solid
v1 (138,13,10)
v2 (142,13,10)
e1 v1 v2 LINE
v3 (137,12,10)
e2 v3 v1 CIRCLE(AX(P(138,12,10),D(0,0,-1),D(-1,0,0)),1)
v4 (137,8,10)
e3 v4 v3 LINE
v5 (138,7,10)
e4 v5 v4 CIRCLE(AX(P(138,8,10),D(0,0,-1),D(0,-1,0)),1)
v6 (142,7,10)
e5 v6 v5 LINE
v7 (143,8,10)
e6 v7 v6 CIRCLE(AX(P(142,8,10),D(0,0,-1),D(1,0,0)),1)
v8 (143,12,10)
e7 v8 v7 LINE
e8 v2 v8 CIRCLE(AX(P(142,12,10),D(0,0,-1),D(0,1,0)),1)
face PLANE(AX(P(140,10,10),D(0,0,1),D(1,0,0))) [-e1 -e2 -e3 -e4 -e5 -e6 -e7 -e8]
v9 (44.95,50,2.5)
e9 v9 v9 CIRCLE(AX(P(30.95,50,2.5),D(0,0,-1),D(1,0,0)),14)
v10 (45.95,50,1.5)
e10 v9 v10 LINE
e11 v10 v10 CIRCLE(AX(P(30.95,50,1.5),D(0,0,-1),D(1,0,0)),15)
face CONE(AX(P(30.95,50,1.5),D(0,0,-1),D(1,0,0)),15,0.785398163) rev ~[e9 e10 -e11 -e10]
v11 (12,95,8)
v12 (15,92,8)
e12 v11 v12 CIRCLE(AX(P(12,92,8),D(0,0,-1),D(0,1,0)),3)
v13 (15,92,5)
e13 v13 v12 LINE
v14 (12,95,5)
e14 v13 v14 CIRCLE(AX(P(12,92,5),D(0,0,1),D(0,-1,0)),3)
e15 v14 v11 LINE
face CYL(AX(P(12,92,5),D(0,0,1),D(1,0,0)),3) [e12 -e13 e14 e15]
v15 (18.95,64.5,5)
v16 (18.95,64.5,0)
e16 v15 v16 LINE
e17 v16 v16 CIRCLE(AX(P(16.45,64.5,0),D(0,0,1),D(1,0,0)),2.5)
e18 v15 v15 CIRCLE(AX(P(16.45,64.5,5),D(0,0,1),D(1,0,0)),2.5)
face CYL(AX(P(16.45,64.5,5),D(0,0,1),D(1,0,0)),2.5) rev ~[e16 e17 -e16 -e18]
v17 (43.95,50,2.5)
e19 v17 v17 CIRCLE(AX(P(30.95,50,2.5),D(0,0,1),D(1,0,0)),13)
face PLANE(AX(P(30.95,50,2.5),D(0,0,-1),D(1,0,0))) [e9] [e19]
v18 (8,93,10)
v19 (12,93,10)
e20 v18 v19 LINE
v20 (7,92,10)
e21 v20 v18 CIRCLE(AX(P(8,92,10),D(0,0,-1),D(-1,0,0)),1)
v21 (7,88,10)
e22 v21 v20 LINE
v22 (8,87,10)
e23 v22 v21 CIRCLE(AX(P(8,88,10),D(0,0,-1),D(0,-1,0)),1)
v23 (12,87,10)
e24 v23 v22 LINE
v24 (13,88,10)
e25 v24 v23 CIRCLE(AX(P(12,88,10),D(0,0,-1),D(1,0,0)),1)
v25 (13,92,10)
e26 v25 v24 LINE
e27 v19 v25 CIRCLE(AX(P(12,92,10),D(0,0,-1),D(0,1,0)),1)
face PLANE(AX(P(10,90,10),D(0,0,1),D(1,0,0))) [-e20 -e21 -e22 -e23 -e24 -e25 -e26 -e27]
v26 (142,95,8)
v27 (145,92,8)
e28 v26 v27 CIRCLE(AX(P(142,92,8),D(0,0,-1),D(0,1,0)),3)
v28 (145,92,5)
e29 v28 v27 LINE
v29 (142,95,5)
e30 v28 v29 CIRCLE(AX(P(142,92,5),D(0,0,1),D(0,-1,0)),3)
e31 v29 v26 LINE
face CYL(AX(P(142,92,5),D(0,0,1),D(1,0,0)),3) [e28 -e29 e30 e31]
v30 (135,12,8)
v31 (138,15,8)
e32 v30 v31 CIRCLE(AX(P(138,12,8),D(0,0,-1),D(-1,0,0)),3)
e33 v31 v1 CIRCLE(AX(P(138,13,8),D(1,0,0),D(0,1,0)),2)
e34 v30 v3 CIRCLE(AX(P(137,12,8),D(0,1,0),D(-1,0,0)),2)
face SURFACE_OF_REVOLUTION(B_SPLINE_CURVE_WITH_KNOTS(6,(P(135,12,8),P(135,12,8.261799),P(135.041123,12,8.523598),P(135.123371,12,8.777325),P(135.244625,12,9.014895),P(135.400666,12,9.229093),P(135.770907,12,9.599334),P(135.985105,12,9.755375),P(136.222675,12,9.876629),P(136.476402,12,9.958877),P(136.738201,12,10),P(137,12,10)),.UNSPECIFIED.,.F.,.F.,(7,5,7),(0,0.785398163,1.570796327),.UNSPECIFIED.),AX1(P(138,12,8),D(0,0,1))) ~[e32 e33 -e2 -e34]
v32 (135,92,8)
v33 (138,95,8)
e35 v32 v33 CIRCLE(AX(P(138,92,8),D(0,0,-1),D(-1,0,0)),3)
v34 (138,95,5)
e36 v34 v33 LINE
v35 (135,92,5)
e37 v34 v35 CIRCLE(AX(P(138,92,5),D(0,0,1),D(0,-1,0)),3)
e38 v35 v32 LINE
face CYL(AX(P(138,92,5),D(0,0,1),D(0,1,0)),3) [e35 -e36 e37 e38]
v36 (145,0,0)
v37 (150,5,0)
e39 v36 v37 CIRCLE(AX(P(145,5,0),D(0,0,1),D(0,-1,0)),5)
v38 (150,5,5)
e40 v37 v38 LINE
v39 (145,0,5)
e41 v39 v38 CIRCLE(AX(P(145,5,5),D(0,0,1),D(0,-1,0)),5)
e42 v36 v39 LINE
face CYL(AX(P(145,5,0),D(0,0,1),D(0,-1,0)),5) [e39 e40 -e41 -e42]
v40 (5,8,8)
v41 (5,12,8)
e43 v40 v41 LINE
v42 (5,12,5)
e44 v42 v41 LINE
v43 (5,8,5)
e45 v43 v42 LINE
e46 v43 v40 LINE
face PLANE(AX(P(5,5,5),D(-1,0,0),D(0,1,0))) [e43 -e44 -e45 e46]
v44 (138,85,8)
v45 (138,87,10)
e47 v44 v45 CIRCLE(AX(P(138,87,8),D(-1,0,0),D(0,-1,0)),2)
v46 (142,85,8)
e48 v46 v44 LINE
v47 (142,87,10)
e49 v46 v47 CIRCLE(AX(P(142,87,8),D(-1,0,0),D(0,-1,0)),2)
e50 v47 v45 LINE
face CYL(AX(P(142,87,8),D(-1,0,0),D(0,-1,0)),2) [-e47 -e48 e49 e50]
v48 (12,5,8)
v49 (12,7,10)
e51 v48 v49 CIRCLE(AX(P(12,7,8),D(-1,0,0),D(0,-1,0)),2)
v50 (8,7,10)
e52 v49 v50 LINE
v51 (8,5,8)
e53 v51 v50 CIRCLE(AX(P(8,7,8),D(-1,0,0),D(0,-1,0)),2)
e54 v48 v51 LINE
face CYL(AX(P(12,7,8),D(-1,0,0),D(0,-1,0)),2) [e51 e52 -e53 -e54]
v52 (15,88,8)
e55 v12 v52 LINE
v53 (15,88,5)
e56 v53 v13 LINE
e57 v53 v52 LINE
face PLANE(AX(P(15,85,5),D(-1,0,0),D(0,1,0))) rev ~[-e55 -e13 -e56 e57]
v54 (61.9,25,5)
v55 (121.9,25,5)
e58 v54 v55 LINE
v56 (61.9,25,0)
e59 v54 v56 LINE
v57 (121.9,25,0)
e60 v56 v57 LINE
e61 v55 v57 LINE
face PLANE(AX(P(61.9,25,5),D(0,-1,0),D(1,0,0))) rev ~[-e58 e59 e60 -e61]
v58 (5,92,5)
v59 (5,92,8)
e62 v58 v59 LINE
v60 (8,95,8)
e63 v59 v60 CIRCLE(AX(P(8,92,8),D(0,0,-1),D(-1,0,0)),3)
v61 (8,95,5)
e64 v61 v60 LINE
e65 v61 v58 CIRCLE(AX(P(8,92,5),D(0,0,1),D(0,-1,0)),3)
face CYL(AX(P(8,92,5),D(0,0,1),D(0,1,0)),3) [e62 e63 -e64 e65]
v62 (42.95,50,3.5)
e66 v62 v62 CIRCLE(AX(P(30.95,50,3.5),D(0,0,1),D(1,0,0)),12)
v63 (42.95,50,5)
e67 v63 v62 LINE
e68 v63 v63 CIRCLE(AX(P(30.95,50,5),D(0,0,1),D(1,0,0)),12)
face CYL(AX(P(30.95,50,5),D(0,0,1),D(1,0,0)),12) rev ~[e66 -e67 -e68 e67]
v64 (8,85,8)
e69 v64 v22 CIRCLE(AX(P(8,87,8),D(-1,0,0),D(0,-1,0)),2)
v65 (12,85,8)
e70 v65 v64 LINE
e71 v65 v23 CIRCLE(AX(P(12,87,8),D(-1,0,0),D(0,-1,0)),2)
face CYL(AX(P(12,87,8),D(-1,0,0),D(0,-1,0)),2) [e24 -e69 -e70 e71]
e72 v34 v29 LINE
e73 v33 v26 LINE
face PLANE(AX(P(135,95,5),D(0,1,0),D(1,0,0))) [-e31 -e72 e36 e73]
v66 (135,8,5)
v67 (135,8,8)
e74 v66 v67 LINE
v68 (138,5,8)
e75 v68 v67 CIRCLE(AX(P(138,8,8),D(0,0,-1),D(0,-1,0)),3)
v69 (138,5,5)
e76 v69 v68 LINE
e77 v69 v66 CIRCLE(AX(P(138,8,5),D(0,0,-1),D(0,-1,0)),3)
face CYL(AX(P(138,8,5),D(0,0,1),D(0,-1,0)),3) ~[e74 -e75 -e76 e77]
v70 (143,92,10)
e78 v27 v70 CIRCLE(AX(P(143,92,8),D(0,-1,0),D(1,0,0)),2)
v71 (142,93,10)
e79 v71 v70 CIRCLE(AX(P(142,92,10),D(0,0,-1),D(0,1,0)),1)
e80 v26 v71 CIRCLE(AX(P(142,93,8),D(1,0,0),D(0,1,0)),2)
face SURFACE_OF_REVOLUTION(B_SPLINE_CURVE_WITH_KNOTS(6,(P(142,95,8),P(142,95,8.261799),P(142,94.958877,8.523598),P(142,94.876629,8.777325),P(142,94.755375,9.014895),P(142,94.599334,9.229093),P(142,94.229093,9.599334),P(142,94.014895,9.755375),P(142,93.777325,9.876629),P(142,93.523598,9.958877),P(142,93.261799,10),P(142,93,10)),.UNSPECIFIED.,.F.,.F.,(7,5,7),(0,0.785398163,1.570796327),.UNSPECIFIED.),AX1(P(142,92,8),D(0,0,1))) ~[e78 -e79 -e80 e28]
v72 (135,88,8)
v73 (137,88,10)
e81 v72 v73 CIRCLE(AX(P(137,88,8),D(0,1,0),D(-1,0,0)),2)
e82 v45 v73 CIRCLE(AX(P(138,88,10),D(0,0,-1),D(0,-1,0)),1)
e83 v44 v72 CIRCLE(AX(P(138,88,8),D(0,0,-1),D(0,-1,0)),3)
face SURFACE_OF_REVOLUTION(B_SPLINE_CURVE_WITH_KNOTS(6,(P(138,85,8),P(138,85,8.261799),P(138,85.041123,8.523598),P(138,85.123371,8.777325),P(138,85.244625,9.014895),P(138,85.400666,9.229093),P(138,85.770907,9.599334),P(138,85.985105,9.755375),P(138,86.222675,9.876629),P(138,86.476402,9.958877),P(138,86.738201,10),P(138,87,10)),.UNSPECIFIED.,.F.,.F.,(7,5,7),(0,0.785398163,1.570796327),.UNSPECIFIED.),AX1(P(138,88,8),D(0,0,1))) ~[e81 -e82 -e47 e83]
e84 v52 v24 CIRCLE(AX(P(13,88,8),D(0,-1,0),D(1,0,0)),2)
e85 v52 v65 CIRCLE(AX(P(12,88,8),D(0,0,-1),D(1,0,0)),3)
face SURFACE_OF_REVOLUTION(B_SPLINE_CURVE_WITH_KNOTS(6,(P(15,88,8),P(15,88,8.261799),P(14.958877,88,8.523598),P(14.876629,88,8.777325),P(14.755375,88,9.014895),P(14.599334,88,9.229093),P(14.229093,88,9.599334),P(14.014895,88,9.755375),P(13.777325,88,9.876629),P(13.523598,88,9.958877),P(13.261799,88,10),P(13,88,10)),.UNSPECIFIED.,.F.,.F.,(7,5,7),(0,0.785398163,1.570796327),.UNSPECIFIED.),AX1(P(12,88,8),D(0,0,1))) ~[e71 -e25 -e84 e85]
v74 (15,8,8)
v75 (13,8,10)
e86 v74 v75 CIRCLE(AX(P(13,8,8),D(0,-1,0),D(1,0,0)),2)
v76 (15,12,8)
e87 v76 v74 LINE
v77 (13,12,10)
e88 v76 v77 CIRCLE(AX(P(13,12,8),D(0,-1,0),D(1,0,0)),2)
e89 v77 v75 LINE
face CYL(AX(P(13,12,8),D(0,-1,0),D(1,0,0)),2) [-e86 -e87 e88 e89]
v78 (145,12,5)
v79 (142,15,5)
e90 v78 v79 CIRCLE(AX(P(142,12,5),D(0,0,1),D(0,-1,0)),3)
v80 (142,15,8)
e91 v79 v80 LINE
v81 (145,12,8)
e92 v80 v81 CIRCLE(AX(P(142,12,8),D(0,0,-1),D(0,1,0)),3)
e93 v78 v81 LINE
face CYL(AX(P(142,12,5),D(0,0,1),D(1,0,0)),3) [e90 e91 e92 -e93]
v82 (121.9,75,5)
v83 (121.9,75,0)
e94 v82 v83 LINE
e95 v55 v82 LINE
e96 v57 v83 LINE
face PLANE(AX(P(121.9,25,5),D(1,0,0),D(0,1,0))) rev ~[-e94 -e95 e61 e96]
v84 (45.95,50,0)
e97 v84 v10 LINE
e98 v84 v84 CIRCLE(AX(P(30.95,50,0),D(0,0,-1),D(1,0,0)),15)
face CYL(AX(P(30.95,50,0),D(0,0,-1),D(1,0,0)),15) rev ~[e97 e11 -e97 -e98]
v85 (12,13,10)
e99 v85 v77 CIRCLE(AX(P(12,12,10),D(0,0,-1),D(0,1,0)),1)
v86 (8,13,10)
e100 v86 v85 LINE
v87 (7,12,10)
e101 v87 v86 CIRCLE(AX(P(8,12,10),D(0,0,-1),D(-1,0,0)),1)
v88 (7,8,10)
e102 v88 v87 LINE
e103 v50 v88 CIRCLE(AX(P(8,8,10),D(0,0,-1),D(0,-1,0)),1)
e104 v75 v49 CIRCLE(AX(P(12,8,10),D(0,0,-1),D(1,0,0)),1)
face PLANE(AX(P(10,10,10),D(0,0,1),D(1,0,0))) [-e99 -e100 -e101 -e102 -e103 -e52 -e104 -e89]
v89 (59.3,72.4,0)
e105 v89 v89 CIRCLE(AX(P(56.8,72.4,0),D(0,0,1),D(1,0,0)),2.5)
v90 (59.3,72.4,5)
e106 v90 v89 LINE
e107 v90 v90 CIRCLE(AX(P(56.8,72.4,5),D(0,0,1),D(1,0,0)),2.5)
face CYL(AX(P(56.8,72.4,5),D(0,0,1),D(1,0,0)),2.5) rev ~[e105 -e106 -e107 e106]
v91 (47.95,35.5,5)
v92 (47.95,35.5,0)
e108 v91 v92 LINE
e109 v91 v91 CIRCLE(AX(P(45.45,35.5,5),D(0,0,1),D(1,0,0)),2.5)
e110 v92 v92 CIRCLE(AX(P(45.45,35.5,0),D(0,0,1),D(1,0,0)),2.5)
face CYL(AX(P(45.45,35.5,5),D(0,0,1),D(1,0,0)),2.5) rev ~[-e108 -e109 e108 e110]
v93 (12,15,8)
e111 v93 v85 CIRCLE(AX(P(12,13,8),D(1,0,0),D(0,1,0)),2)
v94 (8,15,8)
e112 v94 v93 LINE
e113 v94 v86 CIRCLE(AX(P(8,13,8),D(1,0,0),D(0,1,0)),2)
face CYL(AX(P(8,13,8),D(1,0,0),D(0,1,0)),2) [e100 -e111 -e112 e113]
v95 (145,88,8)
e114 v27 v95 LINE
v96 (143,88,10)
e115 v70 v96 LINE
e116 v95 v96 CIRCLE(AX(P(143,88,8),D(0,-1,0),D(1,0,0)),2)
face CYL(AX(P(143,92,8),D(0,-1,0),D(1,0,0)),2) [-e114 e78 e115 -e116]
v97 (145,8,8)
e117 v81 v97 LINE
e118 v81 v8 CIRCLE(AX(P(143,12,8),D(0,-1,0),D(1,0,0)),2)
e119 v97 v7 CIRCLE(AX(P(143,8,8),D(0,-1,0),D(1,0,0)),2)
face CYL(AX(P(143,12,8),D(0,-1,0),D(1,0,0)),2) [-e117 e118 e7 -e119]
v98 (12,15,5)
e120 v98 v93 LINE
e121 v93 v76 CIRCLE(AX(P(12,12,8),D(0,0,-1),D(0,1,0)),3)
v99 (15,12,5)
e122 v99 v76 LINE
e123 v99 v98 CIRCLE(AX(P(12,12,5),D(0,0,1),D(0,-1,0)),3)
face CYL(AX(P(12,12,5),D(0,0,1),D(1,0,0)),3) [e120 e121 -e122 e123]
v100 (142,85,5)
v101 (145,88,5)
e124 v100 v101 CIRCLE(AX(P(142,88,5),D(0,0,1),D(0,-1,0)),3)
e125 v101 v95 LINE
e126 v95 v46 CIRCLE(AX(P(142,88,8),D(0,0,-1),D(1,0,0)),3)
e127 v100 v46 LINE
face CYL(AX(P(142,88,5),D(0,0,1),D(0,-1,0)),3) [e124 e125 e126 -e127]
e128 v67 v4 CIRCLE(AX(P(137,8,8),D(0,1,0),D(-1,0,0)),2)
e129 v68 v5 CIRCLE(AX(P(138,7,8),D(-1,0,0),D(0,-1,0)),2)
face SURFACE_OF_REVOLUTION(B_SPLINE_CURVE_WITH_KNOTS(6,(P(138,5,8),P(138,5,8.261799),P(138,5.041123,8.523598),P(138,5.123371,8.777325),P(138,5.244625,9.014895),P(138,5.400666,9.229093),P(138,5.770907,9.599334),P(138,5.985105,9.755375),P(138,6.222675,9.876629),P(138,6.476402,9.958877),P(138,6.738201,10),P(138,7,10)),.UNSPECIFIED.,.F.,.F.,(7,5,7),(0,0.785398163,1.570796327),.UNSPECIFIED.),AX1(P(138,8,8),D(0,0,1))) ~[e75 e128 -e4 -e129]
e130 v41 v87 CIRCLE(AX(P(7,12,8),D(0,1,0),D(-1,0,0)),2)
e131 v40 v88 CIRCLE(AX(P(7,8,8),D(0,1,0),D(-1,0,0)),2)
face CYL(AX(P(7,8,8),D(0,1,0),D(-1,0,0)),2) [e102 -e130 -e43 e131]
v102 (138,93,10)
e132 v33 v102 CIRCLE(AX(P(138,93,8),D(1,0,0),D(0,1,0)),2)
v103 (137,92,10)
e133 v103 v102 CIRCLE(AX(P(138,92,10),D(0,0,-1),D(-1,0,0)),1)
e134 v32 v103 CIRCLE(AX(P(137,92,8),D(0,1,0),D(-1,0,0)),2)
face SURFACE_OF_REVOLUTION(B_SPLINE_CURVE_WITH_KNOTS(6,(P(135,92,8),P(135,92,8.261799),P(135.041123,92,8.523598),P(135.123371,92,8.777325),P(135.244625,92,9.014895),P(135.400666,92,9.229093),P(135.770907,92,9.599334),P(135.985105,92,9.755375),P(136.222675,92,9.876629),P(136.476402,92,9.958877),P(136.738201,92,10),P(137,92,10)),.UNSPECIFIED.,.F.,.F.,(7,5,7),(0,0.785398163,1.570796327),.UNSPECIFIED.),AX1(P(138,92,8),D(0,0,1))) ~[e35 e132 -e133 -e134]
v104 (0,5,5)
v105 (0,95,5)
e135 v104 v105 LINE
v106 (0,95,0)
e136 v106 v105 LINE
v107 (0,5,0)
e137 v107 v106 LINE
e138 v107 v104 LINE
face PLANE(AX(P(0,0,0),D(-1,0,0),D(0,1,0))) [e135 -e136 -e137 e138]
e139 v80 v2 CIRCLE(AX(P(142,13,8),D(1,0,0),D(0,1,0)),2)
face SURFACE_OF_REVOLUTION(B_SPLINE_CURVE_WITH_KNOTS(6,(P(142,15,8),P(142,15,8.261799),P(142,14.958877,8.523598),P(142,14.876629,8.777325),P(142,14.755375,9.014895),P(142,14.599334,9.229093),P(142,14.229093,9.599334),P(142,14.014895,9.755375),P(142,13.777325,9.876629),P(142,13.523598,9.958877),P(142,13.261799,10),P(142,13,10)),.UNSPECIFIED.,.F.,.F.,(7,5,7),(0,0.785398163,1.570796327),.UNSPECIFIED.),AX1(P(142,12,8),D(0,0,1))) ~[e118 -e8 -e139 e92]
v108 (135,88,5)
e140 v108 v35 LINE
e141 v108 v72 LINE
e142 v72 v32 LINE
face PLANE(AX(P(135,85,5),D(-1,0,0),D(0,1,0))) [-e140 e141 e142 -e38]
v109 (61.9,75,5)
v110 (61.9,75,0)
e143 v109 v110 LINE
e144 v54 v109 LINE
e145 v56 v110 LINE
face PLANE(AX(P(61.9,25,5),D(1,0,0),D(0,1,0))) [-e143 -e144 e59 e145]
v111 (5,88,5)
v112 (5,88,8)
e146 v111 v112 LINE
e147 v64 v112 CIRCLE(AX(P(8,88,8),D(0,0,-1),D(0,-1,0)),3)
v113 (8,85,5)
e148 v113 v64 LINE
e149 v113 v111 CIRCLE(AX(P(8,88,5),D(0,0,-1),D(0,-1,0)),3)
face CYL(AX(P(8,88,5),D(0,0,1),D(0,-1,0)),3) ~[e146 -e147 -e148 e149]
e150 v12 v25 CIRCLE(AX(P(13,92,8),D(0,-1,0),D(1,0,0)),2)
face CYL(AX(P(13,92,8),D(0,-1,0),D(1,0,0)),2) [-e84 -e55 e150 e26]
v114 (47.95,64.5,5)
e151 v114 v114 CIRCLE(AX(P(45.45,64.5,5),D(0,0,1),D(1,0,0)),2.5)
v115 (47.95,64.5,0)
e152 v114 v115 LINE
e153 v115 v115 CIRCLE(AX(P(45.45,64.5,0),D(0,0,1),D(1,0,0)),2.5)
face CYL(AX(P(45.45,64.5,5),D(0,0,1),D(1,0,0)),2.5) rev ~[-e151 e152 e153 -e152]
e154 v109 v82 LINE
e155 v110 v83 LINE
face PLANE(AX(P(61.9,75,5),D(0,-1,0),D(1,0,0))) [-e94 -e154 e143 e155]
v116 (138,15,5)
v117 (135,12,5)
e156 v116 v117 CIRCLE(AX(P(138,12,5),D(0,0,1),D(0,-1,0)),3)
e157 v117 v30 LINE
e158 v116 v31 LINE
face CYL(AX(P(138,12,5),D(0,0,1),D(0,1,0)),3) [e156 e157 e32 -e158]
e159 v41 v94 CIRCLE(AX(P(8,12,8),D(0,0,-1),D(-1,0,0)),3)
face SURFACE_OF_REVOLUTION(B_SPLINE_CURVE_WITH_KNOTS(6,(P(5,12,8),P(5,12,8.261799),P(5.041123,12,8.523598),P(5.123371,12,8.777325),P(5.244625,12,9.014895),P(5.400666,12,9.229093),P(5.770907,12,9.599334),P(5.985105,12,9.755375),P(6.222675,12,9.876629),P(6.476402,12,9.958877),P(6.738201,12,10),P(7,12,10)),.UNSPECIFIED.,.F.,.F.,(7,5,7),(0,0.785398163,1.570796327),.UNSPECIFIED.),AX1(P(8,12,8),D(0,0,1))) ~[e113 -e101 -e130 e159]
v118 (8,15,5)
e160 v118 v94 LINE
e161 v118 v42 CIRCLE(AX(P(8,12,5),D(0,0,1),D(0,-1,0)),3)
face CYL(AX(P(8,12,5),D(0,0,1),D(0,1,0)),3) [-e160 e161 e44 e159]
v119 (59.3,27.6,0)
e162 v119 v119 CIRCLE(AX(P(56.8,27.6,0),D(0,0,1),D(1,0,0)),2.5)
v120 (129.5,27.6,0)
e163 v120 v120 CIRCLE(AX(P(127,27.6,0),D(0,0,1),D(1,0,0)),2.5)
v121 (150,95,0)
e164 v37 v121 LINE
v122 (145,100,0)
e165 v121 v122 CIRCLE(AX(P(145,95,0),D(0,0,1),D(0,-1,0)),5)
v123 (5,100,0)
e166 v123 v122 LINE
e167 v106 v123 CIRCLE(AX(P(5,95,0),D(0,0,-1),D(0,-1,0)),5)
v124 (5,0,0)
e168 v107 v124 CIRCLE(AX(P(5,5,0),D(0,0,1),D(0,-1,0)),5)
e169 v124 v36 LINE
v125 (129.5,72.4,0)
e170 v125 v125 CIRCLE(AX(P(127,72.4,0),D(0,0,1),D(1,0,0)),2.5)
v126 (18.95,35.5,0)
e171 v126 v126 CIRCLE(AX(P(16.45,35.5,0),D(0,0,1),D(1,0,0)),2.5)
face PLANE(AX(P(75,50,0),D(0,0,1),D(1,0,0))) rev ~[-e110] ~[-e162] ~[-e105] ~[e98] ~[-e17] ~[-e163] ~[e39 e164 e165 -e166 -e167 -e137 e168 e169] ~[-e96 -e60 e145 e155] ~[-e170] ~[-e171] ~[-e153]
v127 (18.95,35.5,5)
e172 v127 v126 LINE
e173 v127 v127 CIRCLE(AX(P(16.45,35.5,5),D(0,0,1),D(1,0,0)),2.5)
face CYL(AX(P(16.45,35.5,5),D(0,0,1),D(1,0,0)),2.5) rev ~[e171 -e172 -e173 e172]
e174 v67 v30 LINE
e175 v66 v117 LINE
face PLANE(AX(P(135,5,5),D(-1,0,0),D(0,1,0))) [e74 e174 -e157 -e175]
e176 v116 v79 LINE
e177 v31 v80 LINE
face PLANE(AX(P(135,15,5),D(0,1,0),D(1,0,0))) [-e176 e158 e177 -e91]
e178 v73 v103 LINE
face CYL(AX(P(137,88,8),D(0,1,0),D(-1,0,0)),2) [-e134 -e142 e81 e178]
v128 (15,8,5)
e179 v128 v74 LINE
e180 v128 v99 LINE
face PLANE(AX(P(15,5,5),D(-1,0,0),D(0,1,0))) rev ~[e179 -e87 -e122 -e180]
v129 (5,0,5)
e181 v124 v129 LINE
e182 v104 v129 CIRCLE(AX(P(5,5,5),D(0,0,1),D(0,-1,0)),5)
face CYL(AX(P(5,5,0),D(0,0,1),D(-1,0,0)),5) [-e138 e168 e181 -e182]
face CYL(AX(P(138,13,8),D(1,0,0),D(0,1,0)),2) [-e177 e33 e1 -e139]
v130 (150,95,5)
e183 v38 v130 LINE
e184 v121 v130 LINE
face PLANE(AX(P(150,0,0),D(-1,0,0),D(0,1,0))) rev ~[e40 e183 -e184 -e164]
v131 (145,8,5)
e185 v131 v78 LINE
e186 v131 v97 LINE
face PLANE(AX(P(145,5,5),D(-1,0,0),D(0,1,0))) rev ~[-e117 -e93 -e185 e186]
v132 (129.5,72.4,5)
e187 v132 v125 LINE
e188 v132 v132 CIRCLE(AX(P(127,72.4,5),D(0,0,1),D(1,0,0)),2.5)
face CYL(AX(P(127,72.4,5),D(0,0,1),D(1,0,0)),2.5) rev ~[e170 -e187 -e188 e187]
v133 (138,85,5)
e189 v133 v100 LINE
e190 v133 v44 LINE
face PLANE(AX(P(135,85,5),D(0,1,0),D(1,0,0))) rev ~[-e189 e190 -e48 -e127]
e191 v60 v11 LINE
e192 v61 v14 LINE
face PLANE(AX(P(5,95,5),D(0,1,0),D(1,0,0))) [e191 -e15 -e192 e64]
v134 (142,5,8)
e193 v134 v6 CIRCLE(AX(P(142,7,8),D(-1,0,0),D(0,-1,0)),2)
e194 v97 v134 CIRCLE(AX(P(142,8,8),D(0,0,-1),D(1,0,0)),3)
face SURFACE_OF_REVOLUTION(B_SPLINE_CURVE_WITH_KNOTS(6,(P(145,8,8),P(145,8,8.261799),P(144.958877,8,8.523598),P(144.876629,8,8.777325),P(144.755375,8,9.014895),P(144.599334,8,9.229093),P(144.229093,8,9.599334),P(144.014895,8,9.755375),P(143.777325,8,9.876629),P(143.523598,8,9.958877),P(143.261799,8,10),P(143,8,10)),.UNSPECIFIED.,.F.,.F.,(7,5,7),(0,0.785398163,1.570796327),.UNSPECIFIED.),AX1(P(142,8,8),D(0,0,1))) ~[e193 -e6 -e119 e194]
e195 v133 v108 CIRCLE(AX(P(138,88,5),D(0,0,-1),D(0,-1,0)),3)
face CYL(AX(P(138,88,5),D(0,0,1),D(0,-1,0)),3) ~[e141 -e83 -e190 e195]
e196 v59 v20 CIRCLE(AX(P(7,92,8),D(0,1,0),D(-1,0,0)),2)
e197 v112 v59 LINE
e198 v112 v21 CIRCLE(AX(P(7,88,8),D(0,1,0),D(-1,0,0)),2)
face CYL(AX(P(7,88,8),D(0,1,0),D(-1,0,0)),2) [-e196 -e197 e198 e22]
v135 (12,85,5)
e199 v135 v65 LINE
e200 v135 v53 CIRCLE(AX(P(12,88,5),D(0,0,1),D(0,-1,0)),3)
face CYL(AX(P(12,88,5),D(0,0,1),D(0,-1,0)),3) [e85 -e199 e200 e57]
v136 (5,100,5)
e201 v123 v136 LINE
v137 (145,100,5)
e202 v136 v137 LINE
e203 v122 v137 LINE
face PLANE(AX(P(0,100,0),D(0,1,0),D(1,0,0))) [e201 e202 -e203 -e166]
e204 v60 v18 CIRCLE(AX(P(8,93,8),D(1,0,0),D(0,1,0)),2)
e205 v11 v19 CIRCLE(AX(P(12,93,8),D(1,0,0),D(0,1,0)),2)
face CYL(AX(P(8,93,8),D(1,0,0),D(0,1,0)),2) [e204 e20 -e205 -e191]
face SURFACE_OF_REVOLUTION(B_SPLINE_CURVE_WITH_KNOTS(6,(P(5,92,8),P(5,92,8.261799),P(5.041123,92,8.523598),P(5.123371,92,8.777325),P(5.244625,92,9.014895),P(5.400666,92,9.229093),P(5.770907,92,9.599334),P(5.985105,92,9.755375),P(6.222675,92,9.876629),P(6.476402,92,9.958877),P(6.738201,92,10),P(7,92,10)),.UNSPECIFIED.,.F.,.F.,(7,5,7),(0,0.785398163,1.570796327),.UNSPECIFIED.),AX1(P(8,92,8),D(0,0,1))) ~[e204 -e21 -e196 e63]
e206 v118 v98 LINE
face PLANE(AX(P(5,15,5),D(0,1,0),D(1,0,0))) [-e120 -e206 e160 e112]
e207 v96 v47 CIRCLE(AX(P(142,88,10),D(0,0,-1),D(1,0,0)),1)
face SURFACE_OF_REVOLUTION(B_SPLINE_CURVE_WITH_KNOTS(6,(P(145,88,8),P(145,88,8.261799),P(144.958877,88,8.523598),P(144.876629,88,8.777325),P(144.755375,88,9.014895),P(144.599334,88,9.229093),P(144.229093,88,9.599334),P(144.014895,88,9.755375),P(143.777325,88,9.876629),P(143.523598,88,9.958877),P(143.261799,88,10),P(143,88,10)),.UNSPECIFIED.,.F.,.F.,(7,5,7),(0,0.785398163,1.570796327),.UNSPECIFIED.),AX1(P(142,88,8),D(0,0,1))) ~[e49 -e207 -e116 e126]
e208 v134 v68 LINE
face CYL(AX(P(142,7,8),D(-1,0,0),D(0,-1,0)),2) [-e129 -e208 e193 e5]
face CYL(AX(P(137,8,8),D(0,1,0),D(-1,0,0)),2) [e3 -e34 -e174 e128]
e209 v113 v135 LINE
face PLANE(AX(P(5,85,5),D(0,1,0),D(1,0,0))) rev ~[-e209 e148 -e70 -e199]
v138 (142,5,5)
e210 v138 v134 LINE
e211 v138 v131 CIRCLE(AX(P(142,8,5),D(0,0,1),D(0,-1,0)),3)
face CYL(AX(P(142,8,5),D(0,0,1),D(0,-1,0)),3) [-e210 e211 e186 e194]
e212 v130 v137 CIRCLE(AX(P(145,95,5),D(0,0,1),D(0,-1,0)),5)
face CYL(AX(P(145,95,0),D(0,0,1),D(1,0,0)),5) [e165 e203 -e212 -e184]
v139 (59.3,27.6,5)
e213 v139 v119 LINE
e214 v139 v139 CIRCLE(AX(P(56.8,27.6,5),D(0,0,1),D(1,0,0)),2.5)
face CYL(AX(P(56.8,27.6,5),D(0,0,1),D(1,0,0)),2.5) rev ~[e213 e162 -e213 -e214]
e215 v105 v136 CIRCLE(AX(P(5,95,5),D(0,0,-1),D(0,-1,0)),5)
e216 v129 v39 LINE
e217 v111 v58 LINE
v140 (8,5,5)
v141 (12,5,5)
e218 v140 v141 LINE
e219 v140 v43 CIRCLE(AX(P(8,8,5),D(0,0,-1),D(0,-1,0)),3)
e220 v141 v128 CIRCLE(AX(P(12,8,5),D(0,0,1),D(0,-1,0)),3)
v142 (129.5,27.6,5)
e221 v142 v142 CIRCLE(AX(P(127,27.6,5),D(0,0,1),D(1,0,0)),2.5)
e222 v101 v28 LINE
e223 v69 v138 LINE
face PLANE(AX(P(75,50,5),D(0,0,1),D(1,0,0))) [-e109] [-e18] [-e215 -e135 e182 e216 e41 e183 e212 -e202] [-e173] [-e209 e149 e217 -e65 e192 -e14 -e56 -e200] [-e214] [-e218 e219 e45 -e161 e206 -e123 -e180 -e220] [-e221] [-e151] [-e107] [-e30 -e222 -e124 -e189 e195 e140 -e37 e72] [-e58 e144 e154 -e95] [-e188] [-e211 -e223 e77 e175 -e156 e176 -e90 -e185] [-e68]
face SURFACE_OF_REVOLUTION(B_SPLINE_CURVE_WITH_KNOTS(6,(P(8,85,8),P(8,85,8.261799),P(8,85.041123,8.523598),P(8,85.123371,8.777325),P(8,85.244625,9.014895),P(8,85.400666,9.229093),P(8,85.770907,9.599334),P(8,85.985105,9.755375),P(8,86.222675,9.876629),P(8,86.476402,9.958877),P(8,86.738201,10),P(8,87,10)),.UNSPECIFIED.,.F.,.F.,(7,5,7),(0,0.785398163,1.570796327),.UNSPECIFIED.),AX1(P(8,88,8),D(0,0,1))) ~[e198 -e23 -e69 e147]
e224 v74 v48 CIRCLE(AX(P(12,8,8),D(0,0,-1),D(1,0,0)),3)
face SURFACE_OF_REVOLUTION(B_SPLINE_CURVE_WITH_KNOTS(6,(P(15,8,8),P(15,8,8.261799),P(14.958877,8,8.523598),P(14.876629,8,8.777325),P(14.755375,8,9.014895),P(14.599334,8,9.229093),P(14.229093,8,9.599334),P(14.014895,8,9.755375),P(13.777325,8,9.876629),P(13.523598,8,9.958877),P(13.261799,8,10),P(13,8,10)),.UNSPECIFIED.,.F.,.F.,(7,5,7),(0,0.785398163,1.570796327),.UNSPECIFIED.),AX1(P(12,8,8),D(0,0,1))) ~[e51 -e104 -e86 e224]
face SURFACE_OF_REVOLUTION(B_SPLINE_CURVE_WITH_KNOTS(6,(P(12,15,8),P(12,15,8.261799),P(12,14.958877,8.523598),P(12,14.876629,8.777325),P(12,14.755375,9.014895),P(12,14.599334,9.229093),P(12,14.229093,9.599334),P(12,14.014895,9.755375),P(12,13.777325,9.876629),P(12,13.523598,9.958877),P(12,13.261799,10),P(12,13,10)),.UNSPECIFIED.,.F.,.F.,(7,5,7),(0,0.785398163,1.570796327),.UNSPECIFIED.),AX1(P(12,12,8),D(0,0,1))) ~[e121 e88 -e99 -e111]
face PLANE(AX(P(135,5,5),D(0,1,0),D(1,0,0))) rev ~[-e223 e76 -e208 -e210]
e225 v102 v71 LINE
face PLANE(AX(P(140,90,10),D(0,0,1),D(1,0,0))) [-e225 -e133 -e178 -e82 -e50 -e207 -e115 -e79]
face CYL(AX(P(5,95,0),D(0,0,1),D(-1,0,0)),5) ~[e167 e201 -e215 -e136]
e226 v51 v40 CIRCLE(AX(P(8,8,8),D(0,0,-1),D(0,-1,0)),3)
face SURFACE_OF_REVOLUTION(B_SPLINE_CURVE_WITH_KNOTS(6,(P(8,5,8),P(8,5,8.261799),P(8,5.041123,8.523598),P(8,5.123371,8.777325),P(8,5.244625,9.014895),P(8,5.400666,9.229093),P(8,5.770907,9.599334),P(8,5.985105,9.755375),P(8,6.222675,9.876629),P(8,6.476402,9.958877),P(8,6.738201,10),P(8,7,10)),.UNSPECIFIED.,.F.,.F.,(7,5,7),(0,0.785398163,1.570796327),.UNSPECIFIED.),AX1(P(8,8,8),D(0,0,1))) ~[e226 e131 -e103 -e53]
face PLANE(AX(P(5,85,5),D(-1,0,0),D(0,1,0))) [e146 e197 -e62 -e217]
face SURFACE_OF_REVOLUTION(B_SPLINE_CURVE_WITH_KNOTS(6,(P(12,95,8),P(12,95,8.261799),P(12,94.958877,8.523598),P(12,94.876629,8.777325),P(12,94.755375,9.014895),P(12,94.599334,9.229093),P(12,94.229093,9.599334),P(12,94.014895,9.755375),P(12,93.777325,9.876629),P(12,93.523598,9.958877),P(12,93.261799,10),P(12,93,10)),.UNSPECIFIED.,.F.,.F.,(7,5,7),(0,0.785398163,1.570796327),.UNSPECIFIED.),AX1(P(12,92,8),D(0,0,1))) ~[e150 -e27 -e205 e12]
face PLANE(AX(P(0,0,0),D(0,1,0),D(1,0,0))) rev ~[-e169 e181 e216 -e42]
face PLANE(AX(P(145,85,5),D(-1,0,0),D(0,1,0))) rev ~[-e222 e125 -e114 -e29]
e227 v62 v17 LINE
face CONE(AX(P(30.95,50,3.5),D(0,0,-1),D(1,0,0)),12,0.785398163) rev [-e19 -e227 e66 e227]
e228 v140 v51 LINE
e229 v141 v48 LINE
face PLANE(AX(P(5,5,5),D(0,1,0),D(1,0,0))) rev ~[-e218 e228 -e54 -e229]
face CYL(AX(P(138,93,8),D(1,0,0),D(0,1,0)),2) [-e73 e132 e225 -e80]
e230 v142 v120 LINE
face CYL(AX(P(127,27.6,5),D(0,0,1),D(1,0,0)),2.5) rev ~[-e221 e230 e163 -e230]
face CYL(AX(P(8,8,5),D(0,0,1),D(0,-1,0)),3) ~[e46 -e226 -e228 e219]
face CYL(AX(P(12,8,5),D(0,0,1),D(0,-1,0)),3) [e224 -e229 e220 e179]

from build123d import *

# Parameters (mm, degrees)
SKETCH_W        = 150
SKETCH_H        = 100
PAD_DEPTH       = 5
FILLET_R        = 5
SKETCH001_W     = 10
SKETCH001_H     = 10
PAD001_DEPTH    = 5
FILLET001_R     = 3
FILLET002_R     = 2
SKETCH002_R     = 2.5
POCKET_DEPTH    = 5
SKETCH003_W     = 60
SKETCH003_H     = 50
POCKET001_DEPTH = 5.001
SKETCH004_R     = 2.5
SKETCH004_R_2   = 12
POCKET002_DEPTH = 5.001
SKETCH005_R     = 15
POCKET003_DEPTH = 2.5
CHAMFER_SIZE    = 1


with BuildPart() as part:
    # Sketch → Pad (new body)
    with BuildSketch(Plane.XY):
        with Locations((75, 50)):
            Rectangle(SKETCH_W, SKETCH_H)
    extrude(amount=PAD_DEPTH)

    # Fillet
    fillet_edges = [part.edges().sort_by_distance(p)[0] for p in [
        (0, 0, 2.5),
        (150, 0, 2.5),
        (150, 100, 2.5),
        (0, 100, 2.5),
    ]]
    fillet(fillet_edges, radius=FILLET_R)

    # Sketch001 → Pad001 (new body)
    with BuildSketch(Plane.XY.offset(5)):
        with Locations((10, 10)):
            Rectangle(SKETCH001_W, SKETCH001_H)
        with Locations((140, 90)):
            Rectangle(SKETCH001_W, SKETCH001_H)
        with Locations((10, 90)):
            Rectangle(SKETCH001_W, SKETCH001_H)
        with Locations((140, 10)):
            Rectangle(SKETCH001_W, SKETCH001_H)
    extrude(amount=PAD001_DEPTH)

    # Fillet001
    fillet001_edges = [part.edges().sort_by_distance(p)[0] for p in [
        (5, 5, 7.5),
        (15, 5, 7.5),
        (5, 15, 7.5),
        (15, 15, 7.5),
        (5, 95, 7.5),
        (15, 95, 7.5),
        (5, 85, 7.5),
        (15, 85, 7.5),
        (135, 5, 7.5),
        (145, 5, 7.5),
        (145, 15, 7.5),
        (135, 85, 7.5),
        (145, 85, 7.5),
        (145, 95, 7.5),
        (135, 95, 7.5),
        (135, 15, 7.5),
    ]]
    fillet(fillet001_edges, radius=FILLET001_R)

    # Fillet002
    fillet002_edges = [part.edges().sort_by_distance(p)[0] for p in [
        (10, 15, 10),
        (140, 15, 10),
        (140, 95, 10),
        (10, 95, 10),
    ]]
    fillet(fillet002_edges, radius=FILLET002_R)

    # Sketch002 → Pocket (cut)
    with BuildSketch(Plane.XY.offset(5)):
        with Locations((56.8, 72.4)):
            Circle(SKETCH002_R)
        with Locations((127, 72.4)):
            Circle(SKETCH002_R)
        with Locations((56.8, 27.6)):
            Circle(SKETCH002_R)
        with Locations((127, 27.6)):
            Circle(SKETCH002_R)
    extrude(amount=-POCKET_DEPTH, mode=Mode.SUBTRACT)

    # Sketch003 → Pocket001 (cut, through all)
    with BuildSketch(Plane.XY.offset(5)):
        with Locations((91.9, 50)):
            Rectangle(SKETCH003_W, SKETCH003_H)
    extrude(amount=-POCKET001_DEPTH, mode=Mode.SUBTRACT)

    # Sketch004 → Pocket002 (cut, through all)
    with BuildSketch(Plane.XY.offset(5)):
        with Locations((16.45, 64.5)):
            Circle(SKETCH004_R)
        with Locations((45.45, 64.5)):
            Circle(SKETCH004_R)
        with Locations((45.45, 35.5)):
            Circle(SKETCH004_R)
        with Locations((16.45, 35.5)):
            Circle(SKETCH004_R)
        with Locations((30.95, 50)):
            Circle(SKETCH004_R_2)
    extrude(amount=-POCKET002_DEPTH, mode=Mode.SUBTRACT)

    # Sketch005 → Pocket003 (cut)
    with BuildSketch(Plane(origin=(0, 0, 0), x_dir=(1, 0, 0), z_dir=(0, 0, -1))):
        with Locations((30.95, -50)):
            Circle(SKETCH005_R)
    extrude(amount=-POCKET003_DEPTH, mode=Mode.SUBTRACT)

    # Chamfer
    chamfer_edges = [part.edges().sort_by_distance(p)[0] for p in [
        (15.95, 50, 2.5),
        (18.95, 50, 2.5),
    ]]
    chamfer(chamfer_edges, length=CHAMFER_SIZE)


solid = part.part
